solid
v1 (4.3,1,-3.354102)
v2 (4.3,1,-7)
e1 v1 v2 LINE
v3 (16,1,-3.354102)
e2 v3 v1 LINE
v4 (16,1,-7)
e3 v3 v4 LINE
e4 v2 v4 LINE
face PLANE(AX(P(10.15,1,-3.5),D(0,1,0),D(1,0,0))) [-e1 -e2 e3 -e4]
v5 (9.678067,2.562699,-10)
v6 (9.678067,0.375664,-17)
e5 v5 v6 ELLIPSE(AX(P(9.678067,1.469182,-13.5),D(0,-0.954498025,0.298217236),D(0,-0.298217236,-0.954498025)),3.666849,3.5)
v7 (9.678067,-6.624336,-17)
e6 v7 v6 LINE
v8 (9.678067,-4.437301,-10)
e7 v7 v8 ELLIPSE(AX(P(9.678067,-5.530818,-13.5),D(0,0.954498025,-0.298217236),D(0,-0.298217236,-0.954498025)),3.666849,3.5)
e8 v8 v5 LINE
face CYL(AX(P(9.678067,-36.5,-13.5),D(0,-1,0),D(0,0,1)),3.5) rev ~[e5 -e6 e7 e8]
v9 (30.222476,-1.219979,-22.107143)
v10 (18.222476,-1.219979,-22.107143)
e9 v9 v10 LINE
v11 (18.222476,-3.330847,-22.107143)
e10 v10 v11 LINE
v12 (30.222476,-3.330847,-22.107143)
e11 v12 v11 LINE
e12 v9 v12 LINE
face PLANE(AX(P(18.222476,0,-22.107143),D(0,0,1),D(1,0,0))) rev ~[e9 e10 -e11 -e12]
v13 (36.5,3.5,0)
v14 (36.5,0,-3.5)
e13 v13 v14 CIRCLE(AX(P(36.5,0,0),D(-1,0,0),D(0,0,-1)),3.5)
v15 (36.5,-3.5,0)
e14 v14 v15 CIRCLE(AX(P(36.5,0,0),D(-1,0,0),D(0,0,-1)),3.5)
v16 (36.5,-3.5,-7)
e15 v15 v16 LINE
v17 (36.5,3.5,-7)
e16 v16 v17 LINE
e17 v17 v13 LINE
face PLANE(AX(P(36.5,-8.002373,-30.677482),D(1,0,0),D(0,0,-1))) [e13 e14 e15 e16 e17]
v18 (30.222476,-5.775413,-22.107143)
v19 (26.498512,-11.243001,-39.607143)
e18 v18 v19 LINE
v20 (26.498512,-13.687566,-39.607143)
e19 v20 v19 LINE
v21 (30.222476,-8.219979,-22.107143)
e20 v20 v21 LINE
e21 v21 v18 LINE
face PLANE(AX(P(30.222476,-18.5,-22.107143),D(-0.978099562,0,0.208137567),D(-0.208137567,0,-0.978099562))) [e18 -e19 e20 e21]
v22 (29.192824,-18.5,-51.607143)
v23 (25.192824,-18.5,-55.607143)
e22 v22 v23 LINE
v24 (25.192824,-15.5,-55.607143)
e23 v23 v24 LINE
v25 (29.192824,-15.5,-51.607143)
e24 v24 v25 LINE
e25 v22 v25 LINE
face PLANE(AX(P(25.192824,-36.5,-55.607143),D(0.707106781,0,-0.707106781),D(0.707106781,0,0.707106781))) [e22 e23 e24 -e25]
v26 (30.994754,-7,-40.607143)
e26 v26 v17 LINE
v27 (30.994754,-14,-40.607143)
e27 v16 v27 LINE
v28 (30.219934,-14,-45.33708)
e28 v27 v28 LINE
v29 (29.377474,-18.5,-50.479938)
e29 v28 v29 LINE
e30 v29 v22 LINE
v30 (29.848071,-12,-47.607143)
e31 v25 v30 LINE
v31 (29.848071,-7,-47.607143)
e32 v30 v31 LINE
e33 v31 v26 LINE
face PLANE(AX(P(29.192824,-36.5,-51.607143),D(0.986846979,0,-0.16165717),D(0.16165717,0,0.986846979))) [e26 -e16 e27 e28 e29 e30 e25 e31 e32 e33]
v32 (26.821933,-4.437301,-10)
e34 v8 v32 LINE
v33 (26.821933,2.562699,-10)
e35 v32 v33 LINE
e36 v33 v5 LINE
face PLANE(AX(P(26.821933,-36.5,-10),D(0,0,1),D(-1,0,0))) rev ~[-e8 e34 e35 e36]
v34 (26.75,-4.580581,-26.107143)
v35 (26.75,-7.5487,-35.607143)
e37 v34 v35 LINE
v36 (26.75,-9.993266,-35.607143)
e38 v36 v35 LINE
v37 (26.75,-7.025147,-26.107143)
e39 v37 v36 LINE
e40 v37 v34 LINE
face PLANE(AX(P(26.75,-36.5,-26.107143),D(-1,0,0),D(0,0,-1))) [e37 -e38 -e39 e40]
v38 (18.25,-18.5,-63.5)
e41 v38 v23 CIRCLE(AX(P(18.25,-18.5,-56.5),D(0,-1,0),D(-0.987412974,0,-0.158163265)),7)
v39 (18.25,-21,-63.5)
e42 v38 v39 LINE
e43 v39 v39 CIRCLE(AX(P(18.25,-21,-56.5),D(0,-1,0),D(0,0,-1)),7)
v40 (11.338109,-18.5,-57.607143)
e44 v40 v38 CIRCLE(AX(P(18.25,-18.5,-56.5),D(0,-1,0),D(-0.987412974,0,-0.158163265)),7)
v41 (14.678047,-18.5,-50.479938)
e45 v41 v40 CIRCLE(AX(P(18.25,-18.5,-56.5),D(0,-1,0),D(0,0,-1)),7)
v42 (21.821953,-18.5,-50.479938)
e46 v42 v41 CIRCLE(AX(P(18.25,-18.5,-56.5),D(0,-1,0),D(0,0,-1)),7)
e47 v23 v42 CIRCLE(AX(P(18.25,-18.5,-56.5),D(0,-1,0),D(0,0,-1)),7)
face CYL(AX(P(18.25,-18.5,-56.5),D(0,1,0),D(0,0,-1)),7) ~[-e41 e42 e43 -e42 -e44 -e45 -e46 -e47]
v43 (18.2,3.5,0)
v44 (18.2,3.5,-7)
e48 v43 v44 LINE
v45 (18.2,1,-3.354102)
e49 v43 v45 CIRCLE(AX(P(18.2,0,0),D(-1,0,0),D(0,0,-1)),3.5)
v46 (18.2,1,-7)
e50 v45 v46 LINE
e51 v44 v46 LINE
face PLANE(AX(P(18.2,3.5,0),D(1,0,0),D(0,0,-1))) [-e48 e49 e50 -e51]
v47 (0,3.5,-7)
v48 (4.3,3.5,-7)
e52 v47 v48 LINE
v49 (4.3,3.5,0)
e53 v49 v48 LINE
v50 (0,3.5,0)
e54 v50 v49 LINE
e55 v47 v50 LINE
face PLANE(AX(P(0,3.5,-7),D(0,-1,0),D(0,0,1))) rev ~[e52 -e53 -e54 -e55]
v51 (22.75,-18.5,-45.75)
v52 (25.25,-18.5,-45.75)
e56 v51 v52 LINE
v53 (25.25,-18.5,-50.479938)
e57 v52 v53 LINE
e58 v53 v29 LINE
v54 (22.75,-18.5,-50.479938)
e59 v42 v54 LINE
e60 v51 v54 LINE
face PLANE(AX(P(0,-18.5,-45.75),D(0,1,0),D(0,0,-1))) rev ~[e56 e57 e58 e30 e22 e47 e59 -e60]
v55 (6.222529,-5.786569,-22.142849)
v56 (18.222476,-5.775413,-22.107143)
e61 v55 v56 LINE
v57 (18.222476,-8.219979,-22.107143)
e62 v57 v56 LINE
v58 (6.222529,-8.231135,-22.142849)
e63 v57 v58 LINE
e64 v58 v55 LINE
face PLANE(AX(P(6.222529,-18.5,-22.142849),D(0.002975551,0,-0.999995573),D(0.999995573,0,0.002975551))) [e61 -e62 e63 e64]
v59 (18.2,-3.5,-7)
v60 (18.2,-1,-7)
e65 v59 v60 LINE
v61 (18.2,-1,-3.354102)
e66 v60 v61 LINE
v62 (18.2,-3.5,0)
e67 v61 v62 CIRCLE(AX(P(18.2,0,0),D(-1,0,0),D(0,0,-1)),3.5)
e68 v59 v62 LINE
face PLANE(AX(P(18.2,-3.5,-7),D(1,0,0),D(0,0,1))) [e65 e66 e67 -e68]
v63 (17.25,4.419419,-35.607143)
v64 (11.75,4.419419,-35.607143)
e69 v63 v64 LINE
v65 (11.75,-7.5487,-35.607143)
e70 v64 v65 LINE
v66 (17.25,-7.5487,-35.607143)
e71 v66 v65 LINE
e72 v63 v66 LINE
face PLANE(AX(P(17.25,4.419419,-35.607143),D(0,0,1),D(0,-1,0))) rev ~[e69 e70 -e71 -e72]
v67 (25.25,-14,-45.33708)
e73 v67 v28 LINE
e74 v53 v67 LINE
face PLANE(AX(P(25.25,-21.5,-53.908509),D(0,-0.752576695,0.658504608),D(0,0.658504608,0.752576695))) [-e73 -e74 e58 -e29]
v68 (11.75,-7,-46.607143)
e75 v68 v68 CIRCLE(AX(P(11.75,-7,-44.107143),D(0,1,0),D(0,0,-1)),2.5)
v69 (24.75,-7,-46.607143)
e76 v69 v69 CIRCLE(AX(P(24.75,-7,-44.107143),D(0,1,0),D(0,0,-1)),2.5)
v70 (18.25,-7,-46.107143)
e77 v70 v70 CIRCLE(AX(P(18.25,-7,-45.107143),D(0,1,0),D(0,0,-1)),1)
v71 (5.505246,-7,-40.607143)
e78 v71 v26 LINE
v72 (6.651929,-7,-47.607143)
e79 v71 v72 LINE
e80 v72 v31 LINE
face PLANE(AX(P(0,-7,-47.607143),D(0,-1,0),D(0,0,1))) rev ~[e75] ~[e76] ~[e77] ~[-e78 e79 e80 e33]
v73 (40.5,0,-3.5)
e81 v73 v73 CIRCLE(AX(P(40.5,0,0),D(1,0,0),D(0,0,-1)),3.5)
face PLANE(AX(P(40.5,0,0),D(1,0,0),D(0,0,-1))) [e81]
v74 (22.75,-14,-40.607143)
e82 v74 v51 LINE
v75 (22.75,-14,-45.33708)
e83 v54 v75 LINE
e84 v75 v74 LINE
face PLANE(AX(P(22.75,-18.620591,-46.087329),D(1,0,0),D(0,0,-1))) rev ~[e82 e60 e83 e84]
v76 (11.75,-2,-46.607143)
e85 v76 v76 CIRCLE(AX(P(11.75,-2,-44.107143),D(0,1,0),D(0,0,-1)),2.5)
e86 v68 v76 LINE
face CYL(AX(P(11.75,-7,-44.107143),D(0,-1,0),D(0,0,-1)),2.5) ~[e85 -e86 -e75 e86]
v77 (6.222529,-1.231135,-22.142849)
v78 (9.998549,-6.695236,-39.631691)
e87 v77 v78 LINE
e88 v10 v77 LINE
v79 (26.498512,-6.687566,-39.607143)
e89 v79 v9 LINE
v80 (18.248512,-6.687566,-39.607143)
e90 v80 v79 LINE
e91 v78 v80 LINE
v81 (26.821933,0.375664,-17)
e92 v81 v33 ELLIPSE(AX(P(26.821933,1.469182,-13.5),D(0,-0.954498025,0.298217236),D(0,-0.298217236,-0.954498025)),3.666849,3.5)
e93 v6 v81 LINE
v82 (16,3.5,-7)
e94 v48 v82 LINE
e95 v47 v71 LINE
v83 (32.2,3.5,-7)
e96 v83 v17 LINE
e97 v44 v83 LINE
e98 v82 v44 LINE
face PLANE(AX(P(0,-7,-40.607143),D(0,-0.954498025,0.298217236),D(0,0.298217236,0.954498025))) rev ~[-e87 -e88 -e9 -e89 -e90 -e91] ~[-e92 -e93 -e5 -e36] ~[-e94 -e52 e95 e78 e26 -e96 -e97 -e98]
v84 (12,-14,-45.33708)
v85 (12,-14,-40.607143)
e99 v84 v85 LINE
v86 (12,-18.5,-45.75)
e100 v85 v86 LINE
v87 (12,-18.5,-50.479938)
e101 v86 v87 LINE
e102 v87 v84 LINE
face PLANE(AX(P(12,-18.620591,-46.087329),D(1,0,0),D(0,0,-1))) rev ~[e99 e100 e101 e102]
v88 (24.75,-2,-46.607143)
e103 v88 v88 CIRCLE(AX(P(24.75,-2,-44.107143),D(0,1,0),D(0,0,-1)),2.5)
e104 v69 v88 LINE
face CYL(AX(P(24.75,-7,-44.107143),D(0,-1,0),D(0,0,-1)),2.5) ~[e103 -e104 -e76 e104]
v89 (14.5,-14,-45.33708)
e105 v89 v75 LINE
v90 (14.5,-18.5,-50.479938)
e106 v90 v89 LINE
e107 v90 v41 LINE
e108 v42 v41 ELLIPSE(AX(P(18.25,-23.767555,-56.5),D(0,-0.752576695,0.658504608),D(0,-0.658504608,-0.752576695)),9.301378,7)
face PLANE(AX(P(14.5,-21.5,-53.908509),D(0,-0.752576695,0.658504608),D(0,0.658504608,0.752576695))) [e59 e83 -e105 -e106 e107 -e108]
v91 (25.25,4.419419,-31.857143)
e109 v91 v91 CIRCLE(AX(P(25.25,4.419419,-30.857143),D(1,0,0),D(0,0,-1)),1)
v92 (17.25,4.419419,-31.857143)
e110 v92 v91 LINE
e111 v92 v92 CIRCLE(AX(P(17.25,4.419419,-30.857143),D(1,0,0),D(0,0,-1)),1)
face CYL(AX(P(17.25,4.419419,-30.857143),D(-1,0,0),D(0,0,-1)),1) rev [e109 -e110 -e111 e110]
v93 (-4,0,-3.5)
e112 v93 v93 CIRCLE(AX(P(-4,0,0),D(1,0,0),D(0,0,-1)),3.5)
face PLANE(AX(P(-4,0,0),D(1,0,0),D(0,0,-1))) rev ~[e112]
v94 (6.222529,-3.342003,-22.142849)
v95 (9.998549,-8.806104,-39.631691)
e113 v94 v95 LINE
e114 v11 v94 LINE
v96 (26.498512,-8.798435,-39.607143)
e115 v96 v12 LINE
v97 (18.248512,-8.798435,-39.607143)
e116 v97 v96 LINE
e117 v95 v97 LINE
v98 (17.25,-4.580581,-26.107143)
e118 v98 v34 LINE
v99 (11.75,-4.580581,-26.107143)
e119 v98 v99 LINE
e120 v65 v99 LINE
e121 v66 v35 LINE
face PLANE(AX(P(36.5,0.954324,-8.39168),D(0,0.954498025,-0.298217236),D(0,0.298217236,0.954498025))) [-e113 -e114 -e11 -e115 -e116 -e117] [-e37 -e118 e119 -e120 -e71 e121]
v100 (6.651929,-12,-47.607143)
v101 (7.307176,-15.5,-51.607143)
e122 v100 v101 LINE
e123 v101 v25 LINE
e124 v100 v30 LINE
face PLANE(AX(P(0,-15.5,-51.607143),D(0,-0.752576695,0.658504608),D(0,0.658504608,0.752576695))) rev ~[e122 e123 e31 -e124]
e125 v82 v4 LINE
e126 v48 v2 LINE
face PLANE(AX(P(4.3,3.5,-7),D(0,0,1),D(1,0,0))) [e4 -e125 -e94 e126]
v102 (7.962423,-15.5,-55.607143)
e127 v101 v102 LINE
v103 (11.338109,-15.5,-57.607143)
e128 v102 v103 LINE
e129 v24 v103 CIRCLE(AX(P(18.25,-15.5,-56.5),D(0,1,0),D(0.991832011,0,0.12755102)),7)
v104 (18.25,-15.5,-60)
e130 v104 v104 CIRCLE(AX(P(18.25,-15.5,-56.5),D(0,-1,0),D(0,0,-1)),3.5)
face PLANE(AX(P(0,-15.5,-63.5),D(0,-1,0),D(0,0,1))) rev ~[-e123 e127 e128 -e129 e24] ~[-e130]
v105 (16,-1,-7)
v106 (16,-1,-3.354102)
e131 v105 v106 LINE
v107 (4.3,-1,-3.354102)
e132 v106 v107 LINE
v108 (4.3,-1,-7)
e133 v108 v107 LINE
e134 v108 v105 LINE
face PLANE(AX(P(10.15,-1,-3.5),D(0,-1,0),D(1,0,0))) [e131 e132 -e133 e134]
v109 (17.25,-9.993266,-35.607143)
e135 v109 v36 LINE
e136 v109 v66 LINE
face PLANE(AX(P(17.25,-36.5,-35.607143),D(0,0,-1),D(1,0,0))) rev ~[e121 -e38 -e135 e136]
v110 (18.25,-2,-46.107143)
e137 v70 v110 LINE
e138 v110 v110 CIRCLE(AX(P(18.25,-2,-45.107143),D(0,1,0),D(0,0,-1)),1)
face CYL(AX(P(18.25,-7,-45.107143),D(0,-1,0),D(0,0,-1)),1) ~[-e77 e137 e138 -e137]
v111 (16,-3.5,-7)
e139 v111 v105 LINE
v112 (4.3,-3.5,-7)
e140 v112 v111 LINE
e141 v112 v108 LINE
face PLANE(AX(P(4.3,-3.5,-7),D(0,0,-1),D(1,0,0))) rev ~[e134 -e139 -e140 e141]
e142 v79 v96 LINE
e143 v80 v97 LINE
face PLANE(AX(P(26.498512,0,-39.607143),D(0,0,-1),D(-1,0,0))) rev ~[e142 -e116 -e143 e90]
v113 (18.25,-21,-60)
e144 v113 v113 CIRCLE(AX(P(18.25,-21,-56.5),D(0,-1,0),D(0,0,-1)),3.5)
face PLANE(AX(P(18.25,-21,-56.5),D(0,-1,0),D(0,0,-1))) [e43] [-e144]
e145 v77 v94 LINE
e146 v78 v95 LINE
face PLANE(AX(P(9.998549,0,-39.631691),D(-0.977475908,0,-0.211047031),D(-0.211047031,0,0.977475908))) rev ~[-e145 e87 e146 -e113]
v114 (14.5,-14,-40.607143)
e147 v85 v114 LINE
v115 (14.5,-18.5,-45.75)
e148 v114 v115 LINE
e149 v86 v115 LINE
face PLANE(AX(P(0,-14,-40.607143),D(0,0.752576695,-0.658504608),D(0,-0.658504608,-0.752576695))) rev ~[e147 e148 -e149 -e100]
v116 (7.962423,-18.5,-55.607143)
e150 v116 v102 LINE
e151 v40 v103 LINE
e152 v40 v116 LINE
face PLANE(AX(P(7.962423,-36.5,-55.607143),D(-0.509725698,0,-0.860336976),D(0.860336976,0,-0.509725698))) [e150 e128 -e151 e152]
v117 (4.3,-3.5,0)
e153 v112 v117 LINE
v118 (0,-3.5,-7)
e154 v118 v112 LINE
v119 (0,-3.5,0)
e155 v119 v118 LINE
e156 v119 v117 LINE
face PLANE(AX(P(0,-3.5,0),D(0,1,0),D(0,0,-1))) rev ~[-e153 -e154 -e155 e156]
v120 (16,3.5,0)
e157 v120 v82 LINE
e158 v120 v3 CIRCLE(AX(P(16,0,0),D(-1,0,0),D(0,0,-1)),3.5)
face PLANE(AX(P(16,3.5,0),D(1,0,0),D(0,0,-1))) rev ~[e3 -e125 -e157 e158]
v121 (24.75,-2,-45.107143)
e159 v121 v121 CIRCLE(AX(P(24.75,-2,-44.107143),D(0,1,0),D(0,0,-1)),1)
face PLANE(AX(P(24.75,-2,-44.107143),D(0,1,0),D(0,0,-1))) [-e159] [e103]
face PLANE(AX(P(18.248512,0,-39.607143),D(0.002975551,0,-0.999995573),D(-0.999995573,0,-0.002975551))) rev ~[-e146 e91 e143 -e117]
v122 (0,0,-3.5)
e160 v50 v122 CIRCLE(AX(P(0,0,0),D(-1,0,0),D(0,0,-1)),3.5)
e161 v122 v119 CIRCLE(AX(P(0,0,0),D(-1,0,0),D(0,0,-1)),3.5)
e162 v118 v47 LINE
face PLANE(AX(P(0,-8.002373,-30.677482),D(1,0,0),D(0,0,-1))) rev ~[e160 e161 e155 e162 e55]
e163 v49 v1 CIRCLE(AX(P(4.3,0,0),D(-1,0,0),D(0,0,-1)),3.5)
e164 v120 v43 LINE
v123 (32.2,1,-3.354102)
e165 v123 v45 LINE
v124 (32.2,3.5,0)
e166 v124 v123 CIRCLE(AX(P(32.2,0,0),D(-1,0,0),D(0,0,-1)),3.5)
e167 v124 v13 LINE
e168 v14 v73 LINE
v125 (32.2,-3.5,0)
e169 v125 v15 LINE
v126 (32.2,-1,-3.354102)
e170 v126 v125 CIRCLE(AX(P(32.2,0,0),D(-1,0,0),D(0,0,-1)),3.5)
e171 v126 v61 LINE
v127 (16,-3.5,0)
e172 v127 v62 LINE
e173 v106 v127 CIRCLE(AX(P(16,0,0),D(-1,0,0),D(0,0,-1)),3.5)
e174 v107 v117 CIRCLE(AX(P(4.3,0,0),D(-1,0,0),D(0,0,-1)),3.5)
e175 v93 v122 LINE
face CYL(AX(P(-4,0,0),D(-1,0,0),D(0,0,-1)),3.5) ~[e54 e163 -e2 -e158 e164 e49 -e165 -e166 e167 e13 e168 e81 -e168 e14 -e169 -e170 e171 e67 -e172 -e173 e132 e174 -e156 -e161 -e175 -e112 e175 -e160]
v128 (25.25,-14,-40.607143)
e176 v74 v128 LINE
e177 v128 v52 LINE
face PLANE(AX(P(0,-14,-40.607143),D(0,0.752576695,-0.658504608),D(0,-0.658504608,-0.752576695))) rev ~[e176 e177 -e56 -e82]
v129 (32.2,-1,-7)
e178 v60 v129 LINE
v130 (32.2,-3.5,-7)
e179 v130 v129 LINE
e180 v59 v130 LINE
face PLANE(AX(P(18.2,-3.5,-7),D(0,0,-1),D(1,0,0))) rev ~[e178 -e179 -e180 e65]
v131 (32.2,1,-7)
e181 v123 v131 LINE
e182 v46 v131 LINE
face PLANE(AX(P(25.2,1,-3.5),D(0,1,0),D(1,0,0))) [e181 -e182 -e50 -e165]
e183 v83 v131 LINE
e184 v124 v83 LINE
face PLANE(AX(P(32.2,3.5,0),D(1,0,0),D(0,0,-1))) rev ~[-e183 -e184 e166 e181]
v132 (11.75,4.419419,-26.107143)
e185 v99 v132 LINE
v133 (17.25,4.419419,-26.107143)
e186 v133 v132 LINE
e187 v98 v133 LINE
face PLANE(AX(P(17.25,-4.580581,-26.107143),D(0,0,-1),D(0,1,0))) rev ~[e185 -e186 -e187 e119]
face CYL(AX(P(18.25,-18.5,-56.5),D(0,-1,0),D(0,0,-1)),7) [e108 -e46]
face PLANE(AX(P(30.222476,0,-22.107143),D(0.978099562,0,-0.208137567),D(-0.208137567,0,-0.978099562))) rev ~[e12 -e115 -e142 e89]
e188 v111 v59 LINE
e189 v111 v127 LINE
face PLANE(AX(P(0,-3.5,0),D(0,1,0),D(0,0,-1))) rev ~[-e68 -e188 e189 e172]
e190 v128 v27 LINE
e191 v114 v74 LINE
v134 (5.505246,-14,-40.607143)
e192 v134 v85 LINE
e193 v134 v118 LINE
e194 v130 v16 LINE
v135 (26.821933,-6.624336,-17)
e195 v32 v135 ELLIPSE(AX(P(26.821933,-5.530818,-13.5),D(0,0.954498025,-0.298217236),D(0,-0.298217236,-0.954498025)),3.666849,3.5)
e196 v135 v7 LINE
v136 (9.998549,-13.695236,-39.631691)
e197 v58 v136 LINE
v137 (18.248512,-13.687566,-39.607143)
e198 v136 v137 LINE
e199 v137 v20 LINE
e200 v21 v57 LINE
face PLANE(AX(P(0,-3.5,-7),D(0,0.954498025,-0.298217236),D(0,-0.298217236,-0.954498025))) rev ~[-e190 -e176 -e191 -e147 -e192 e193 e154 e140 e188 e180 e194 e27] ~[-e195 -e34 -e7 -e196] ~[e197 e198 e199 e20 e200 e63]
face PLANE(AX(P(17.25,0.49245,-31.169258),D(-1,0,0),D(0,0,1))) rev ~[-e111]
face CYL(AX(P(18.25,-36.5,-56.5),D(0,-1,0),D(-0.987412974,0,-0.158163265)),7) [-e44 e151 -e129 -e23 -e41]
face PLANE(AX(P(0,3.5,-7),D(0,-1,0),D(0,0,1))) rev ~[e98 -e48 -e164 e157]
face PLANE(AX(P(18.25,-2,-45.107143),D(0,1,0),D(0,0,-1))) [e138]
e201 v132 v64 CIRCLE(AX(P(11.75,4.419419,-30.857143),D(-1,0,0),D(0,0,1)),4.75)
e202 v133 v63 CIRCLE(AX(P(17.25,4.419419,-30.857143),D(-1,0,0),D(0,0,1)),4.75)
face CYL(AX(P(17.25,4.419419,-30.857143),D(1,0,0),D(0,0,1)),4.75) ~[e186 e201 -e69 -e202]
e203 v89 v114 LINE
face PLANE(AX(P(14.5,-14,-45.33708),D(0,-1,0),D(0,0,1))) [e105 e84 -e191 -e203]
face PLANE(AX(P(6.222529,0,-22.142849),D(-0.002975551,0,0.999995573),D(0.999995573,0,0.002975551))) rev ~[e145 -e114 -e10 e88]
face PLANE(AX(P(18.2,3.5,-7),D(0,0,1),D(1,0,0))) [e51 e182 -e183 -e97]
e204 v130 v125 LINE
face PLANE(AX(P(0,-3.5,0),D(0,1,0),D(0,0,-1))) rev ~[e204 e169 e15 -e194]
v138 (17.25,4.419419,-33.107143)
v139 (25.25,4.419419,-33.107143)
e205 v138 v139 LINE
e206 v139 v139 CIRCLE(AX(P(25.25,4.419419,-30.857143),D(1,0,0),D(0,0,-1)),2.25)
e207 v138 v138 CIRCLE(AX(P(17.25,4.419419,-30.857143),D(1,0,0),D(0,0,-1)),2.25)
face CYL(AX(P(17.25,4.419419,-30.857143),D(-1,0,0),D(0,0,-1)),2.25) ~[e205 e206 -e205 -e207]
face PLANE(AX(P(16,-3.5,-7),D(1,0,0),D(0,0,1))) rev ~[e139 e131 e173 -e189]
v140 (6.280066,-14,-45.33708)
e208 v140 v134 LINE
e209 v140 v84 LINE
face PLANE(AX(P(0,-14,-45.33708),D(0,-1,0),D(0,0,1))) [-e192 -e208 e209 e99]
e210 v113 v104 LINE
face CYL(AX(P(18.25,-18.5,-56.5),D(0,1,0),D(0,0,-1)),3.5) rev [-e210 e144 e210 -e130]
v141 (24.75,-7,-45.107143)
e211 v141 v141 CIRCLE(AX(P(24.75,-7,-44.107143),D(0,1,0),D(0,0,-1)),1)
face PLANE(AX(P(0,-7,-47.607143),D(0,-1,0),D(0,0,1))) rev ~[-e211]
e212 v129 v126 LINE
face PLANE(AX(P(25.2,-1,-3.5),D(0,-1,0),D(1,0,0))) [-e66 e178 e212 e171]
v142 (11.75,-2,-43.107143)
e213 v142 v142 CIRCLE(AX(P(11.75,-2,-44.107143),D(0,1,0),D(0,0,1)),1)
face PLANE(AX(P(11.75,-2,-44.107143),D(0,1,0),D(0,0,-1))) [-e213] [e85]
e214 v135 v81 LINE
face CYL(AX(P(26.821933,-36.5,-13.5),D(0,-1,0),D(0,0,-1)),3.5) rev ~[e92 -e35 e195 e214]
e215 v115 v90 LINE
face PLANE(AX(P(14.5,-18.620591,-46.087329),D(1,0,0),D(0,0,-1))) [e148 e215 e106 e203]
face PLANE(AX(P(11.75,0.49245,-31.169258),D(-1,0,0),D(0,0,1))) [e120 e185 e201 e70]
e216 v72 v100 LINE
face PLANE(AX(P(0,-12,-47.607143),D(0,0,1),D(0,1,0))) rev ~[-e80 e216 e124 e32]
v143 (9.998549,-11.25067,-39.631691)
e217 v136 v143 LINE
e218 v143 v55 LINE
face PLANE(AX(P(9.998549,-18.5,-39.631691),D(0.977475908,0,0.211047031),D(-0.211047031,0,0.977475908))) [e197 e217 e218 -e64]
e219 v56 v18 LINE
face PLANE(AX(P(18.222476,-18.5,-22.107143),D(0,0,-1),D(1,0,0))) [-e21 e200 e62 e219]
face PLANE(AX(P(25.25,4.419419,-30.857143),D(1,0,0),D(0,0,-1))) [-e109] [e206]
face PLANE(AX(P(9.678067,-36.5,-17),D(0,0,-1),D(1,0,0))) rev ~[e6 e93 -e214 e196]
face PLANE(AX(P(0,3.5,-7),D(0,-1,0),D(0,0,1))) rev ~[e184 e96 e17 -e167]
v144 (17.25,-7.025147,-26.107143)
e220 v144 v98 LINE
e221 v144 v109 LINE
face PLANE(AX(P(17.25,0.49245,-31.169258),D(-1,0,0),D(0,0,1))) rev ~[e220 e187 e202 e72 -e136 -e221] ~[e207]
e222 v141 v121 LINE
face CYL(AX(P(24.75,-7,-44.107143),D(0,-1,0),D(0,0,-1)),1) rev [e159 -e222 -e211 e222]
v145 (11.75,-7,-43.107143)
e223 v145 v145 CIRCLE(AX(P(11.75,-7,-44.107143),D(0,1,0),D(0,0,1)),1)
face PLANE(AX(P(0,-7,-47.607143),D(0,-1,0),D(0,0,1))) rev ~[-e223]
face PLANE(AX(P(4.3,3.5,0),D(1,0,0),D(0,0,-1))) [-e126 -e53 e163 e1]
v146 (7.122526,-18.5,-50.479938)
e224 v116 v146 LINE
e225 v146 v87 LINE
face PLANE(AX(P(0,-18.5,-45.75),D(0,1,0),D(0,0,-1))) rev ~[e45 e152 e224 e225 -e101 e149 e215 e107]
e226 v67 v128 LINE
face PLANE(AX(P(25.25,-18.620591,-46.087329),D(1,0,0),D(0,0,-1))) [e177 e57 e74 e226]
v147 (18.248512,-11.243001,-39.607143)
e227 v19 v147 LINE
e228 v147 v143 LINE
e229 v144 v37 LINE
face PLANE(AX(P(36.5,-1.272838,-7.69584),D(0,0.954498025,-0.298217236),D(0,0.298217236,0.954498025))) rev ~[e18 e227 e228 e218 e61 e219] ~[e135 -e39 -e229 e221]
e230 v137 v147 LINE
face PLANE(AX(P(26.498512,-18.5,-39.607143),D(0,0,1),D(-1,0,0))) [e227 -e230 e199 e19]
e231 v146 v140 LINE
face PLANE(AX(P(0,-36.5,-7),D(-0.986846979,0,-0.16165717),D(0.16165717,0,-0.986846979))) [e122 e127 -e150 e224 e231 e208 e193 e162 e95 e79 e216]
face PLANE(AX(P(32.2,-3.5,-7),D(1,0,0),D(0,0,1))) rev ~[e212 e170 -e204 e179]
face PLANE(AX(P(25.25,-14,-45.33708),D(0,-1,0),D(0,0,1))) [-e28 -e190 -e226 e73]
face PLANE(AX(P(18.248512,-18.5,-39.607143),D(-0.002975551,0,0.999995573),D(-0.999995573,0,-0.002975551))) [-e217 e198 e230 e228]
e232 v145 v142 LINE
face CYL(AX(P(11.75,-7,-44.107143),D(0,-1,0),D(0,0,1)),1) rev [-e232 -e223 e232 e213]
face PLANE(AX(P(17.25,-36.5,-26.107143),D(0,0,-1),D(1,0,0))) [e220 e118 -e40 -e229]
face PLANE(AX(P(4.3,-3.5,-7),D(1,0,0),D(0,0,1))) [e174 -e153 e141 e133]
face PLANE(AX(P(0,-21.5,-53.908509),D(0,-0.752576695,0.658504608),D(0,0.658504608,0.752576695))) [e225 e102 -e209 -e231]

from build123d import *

# Parameters (mm, degrees)
BOSS_EXTRUDE1_DEPTH             = 36.5
CUT_EXTRUDE1_DEPTH              = 76.543034093
CUT_EXTRUDE1_DEPTH_BACK         = 36.5
SKETCH2_R                       = 3.5
SKETCH2_W                       = 9.5
SKETCH2_H                       = 9.5
SKETCH5_W                       = 11.7
SKETCH5_H                       = 7
SKETCH5_W_2                     = 14
CUT_EXTRUDE2_DEPTH              = 2.5
SKETCH6_W                       = 14
SKETCH6_H                       = 7
SKETCH6_W_2                     = 11.7
CUT_EXTRUDE3_DEPTH              = 2.5
BOSS_EXTRUDE2_DEPTH             = 4
BOSS_EXTRUDE2_DEPTH_BACK        = 40.5
SKETCH3_R                       = 3.5
CUT_EXTRUDE4_REACH              = 79.555
CUT_EXTRUDE5_REACH              = 80.463
BOSS_EXTRUDE3_DEPTH             = 5.5
SKETCH10_R                      = 2.25
SKETCH10_R_2                    = 1
BOSS_EXTRUDE4_DEPTH             = 8
SKETCH11_R                      = 2.5
SKETCH11_R_2                    = 1
BOSS_EXTRUDE5_DEPTH             = 5
CUT_EXTRUDE7_DEPTH              = 12
CUT_EXTRUDE8_START              = 14.5
CUT_EXTRUDE8_DEPTH              = 8.25
CUT_EXTRUDE9_START              = 25.25
CUT_EXTRUDE9_DEPTH              = 8
SKETCH14_R                      = 7
SKETCH14_R_2                    = 3.5
BOSS_EXTRUDE6_DEPTH             = 2.5
BOSS_EXTRUDE6_DIRECTION_2_REACH = 82.238


with BuildPart() as part:
    # Sketch1 → Boss-Extrude1 (new body)
    with BuildSketch(Plane(origin=(0, 0, 0), x_dir=(0, 0, -1), z_dir=(1, 0, 0))):
        with BuildLine():
            Line((7, -3.5), (40.607142857, -14))
            Line((40.607142857, -14), (45.75, -18.5))
            Line((45.75, -18.5), (49.75, -18.5))
            Line((49.75, -18.5), (63.5, -18.5))
            Line((63.5, -18.5), (63.5, -15.5))
            Line((63.5, -15.5), (51.607142857, -15.5))
            Line((51.607142857, -15.5), (47.607142857, -12))
            Line((47.607142857, -12), (47.607142857, -7))
            Line((47.607142857, -7), (40.607142857, -7))
            Line((40.607142857, -7), (7, 3.5))
            Line((7, 3.5), (0, 3.5))
            ThreePointArc((0, 3.5), (-3.5, 0), (0, -3.5))
            Line((0, -3.5), (7, -3.5))
        make_face()
    extrude(amount=BOSS_EXTRUDE1_DEPTH)

    # Sketch2 → Cut-Extrude1 (cut, two sides: drawn at the far end of the back side and taken through both)
    with BuildSketch(Plane(origin=(0, 0, 0), x_dir=(1, 0, 0), z_dir=(0, 1, 0)).offset(-CUT_EXTRUDE1_DEPTH_BACK)):
        with Locations(Location((18.25, 56.5, 0), (0, 0, 90))):
            Circle(SKETCH2_R)
        with BuildLine():
            Line((25.192824074, 55.607142857), (29.192824074, 51.607142857))
            Line((29.192824074, 51.607142857), (36.5, 7))
            Line((36.5, 7), (46.5, 7))
            Line((46.5, 7), (46.5, 73.5))
            Line((46.5, 73.5), (-10, 73.5))
            Line((-10, 73.5), (-10, 7))
            Line((-10, 7), (0, 7))
            Line((0, 7), (7.962423087, 55.607142857))
            Line((7.962423087, 55.607142857), (11.338109181, 57.607142857))
            ThreePointArc((11.338109181, 57.607142857), (19.250119601, 63.428185966), (25.192824074, 55.607142857))
        make_face()
        with BuildLine():
            Line((9.678067434, 17), (26.821932566, 17))
            ThreePointArc((26.821932566, 17), (30.321932566, 13.5), (26.821932566, 10))
            Line((26.821932566, 10), (9.678067434, 10))
            ThreePointArc((9.678067434, 10), (6.178067434, 13.5), (9.678067434, 17))
        make_face()
        with Locations((22, 30.857142857)):
            Rectangle(SKETCH2_W, SKETCH2_H)
    extrude(amount=CUT_EXTRUDE1_DEPTH + CUT_EXTRUDE1_DEPTH_BACK, mode=Mode.SUBTRACT)

    # Sketch5 → Cut-Extrude2 (cut)
    with BuildSketch(Plane(origin=(0, 3.5, 0), x_dir=(1, 0, 0), z_dir=(0, 1, 0))):
        with Locations((10.15, 3.5)):
            Rectangle(SKETCH5_W, SKETCH5_H)
        with Locations((25.2, 3.5)):
            Rectangle(SKETCH5_W_2, SKETCH5_H)
    extrude(amount=-CUT_EXTRUDE2_DEPTH, mode=Mode.SUBTRACT)

    # Sketch6 → Cut-Extrude3 (cut)
    with BuildSketch(Plane.XZ.offset(3.5)):
        with Locations((25.2, -3.5)):
            Rectangle(SKETCH6_W, SKETCH6_H)
        with Locations((10.15, -3.5)):
            Rectangle(SKETCH6_W_2, SKETCH6_H)
    extrude(amount=-CUT_EXTRUDE3_DEPTH, mode=Mode.SUBTRACT)

    # Sketch3 → Boss-Extrude2 (add, two sides: drawn at the far end of the back side and taken through both)
    with BuildSketch(Plane(origin=(36.5, 0, 0), x_dir=(0, 0, -1), z_dir=(1, 0, 0)).offset(-BOSS_EXTRUDE2_DEPTH_BACK)):
        Circle(SKETCH3_R)
    extrude(amount=BOSS_EXTRUDE2_DEPTH + BOSS_EXTRUDE2_DEPTH_BACK)

    # Cut-Extrude4: up to this plane
    cut_extrude4_end = Plane(origin=(36.5, 0.954324111, -8.391680434), z_dir=(0, 0.9544980251192885, -0.2982172363284494))
    # Sketch7 → Cut-Extrude4 (cut, up to the surface)
    with BuildSketch(Plane(origin=(0, 0, 0), x_dir=(1, 0, 0), z_dir=(0, 1, 0)), mode=Mode.PRIVATE) as cut_extrude4_sk1:
        Polygon((18.222476089, 22.107142857), (30.222476089, 22.107142857), (26.498512221, 39.607142857), (18.248512221, 39.607142857), (9.998548743, 39.631691156), (6.222529213, 22.142849473), align=None)
    cut_extrude4_tool1 = split(extrude(cut_extrude4_sk1.sketch, amount=-CUT_EXTRUDE4_REACH, mode=Mode.PRIVATE), bisect_by=cut_extrude4_end, keep=Keep.BOTH, mode=Mode.PRIVATE)
    add(cut_extrude4_tool1.solids().sort_by_distance((18.234702, 0, -30.324637))[0], mode=Mode.SUBTRACT)

    # Cut-Extrude5: up to this plane
    cut_extrude5_end = Plane(origin=(36.5, -1.272837948, -7.695840216), z_dir=(0, 0.9544980251192885, -0.2982172363284494))
    # Sketch8 → Cut-Extrude5 (cut, up to the surface)
    with BuildSketch(Plane(origin=(0, -18.5, 0), x_dir=(1, 0, 0), z_dir=(0, 1, 0)), mode=Mode.PRIVATE) as cut_extrude5_sk1:
        Polygon((18.222476089, 22.107142857), (30.222476089, 22.107142857), (26.498512221, 39.607142857), (18.248512221, 39.607142857), (9.998548743, 39.631691156), (6.222529213, 22.142849473), align=None)
    cut_extrude5_tool1 = split(extrude(cut_extrude5_sk1.sketch, amount=CUT_EXTRUDE5_REACH, mode=Mode.PRIVATE), bisect_by=cut_extrude5_end, keep=Keep.BOTH, mode=Mode.PRIVATE)
    add(cut_extrude5_tool1.solids().sort_by_distance((18.234702, -18.5, -30.324637))[0], mode=Mode.SUBTRACT)

    # Sketch9 → Boss-Extrude3 (add)
    with BuildSketch(Plane(origin=(17.25, 0, 0), x_dir=(0, 0, -1), z_dir=(1, 0, 0))):
        with BuildLine():
            Line((26.107142857, -4.580581258), (26.107142857, 4.419418742))
            ThreePointArc((26.107142857, 4.419418742), (30.857142857, 9.169418742), (35.607142857, 4.419418742))
            Line((35.607142857, 4.419418742), (35.607142857, -7.548700281))
            Line((35.607142857, -7.548700281), (26.107142857, -4.580581258))
        make_face()
    extrude(amount=-BOSS_EXTRUDE3_DEPTH)

    # Sketch10 → Boss-Extrude4 (add)
    with BuildSketch(Plane(origin=(17.25, 0, 0), x_dir=(0, 0, -1), z_dir=(1, 0, 0))):
        with Locations((30.857142857, 4.419418742)):
            Circle(SKETCH10_R)
        with Locations((30.857142857, 4.419418742)):
            Circle(SKETCH10_R_2, mode=Mode.SUBTRACT)
    extrude(amount=BOSS_EXTRUDE4_DEPTH)

    # Sketch11 → Boss-Extrude5 (add)
    # profile 1 of 3: a face of its own
    with BuildSketch(Plane(origin=(0, -7, 0), x_dir=(1, 0, 0), z_dir=(0, 1, 0))):
        with Locations(Location((11.75, 44.107142857, 0), (0, 0, 90))):
            Circle(SKETCH11_R)
        with Locations(Location((11.75, 44.107142857, 0), (0, 0, 270))):
            Circle(SKETCH11_R_2, mode=Mode.SUBTRACT)
    # profile 2 of 3: a face of its own
    with BuildSketch(Plane(origin=(0, -7, 0), x_dir=(1, 0, 0), z_dir=(0, 1, 0))):
        with Locations(Location((18.25, 45.107142857, 0), (0, 0, 90))):
            Circle(SKETCH11_R_2)
    # profile 3 of 3: a face of its own
    with BuildSketch(Plane(origin=(0, -7, 0), x_dir=(1, 0, 0), z_dir=(0, 1, 0))):
        with Locations(Location((24.75, 44.107142857, 0), (0, 0, 90))):
            Circle(SKETCH11_R)
        with Locations(Location((24.75, 44.107142857, 0), (0, 0, 90))):
            Circle(SKETCH11_R_2, mode=Mode.SUBTRACT)
    extrude(amount=BOSS_EXTRUDE5_DEPTH)

    # Sketch13 → Cut-Extrude7 (cut)
    with BuildSketch(Plane(origin=(0, 0, 0), x_dir=(0, 0, -1), z_dir=(1, 0, 0))):
        Polygon((53.908508937, -21.5), (45.337080366, -14), (40.607142857, -14), (40.607142857, -21.5), align=None)
    extrude(amount=CUT_EXTRUDE7_DEPTH, mode=Mode.SUBTRACT)

    # Sketch13<3> → Cut-Extrude8 (cut)
    with BuildSketch(Plane(origin=(0, 0, 0), x_dir=(0, 0, -1), z_dir=(1, 0, 0)).offset(CUT_EXTRUDE8_START)):
        Polygon((53.908508937, -21.5), (45.337080366, -14), (40.607142857, -14), (40.607142857, -21.5), align=None)
    extrude(amount=CUT_EXTRUDE8_DEPTH, mode=Mode.SUBTRACT)

    # Sketch13<4> → Cut-Extrude9 (cut)
    with BuildSketch(Plane(origin=(0, 0, 0), x_dir=(0, 0, -1), z_dir=(1, 0, 0)).offset(CUT_EXTRUDE9_START)):
        Polygon((53.908508937, -21.5), (45.337080366, -14), (40.607142857, -14), (40.607142857, -21.5), align=None)
    extrude(amount=CUT_EXTRUDE9_DEPTH, mode=Mode.SUBTRACT)

    # Sketch14 → Boss-Extrude6 (add)
    with BuildSketch(Plane.XZ.offset(18.5)):
        with Locations(Location((18.25, -56.5, 0), (0, 0, 270))):
            Circle(SKETCH14_R)
        with Locations(Location((18.25, -56.5, 0), (0, 0, 270))):
            Circle(SKETCH14_R_2, mode=Mode.SUBTRACT)
    extrude(amount=BOSS_EXTRUDE6_DEPTH)

    # Boss-Extrude6 direction 2: up to this face of the body (flat: up to its plane)
    boss_extrude6_direction_2_end = Plane(part.part.faces().sort_by_distance((27.530853261, -16.180546647, -47.829133677))[0])
    # Sketch14 → Boss-Extrude6 direction 2 (add, up to the picked face)
    with BuildSketch(Plane.XZ.offset(18.5), mode=Mode.PRIVATE) as boss_extrude6_direction_2_sk1:
        with Locations(Location((18.25, -56.5, 0), (0, 0, 270))):
            Circle(SKETCH14_R)
        with Locations(Location((18.25, -56.5, 0), (0, 0, 270))):
            Circle(SKETCH14_R_2, mode=Mode.SUBTRACT)
    boss_extrude6_direction_2_tool1 = split(extrude(boss_extrude6_direction_2_sk1.sketch, amount=-BOSS_EXTRUDE6_DIRECTION_2_REACH, mode=Mode.PRIVATE), bisect_by=boss_extrude6_direction_2_end, keep=Keep.BOTH, mode=Mode.PRIVATE)
    add(boss_extrude6_direction_2_tool1.solids().sort_by(Axis((18.25, -18.5, -49.69799), (0, 1, 0)))[0])


solid = part.part
